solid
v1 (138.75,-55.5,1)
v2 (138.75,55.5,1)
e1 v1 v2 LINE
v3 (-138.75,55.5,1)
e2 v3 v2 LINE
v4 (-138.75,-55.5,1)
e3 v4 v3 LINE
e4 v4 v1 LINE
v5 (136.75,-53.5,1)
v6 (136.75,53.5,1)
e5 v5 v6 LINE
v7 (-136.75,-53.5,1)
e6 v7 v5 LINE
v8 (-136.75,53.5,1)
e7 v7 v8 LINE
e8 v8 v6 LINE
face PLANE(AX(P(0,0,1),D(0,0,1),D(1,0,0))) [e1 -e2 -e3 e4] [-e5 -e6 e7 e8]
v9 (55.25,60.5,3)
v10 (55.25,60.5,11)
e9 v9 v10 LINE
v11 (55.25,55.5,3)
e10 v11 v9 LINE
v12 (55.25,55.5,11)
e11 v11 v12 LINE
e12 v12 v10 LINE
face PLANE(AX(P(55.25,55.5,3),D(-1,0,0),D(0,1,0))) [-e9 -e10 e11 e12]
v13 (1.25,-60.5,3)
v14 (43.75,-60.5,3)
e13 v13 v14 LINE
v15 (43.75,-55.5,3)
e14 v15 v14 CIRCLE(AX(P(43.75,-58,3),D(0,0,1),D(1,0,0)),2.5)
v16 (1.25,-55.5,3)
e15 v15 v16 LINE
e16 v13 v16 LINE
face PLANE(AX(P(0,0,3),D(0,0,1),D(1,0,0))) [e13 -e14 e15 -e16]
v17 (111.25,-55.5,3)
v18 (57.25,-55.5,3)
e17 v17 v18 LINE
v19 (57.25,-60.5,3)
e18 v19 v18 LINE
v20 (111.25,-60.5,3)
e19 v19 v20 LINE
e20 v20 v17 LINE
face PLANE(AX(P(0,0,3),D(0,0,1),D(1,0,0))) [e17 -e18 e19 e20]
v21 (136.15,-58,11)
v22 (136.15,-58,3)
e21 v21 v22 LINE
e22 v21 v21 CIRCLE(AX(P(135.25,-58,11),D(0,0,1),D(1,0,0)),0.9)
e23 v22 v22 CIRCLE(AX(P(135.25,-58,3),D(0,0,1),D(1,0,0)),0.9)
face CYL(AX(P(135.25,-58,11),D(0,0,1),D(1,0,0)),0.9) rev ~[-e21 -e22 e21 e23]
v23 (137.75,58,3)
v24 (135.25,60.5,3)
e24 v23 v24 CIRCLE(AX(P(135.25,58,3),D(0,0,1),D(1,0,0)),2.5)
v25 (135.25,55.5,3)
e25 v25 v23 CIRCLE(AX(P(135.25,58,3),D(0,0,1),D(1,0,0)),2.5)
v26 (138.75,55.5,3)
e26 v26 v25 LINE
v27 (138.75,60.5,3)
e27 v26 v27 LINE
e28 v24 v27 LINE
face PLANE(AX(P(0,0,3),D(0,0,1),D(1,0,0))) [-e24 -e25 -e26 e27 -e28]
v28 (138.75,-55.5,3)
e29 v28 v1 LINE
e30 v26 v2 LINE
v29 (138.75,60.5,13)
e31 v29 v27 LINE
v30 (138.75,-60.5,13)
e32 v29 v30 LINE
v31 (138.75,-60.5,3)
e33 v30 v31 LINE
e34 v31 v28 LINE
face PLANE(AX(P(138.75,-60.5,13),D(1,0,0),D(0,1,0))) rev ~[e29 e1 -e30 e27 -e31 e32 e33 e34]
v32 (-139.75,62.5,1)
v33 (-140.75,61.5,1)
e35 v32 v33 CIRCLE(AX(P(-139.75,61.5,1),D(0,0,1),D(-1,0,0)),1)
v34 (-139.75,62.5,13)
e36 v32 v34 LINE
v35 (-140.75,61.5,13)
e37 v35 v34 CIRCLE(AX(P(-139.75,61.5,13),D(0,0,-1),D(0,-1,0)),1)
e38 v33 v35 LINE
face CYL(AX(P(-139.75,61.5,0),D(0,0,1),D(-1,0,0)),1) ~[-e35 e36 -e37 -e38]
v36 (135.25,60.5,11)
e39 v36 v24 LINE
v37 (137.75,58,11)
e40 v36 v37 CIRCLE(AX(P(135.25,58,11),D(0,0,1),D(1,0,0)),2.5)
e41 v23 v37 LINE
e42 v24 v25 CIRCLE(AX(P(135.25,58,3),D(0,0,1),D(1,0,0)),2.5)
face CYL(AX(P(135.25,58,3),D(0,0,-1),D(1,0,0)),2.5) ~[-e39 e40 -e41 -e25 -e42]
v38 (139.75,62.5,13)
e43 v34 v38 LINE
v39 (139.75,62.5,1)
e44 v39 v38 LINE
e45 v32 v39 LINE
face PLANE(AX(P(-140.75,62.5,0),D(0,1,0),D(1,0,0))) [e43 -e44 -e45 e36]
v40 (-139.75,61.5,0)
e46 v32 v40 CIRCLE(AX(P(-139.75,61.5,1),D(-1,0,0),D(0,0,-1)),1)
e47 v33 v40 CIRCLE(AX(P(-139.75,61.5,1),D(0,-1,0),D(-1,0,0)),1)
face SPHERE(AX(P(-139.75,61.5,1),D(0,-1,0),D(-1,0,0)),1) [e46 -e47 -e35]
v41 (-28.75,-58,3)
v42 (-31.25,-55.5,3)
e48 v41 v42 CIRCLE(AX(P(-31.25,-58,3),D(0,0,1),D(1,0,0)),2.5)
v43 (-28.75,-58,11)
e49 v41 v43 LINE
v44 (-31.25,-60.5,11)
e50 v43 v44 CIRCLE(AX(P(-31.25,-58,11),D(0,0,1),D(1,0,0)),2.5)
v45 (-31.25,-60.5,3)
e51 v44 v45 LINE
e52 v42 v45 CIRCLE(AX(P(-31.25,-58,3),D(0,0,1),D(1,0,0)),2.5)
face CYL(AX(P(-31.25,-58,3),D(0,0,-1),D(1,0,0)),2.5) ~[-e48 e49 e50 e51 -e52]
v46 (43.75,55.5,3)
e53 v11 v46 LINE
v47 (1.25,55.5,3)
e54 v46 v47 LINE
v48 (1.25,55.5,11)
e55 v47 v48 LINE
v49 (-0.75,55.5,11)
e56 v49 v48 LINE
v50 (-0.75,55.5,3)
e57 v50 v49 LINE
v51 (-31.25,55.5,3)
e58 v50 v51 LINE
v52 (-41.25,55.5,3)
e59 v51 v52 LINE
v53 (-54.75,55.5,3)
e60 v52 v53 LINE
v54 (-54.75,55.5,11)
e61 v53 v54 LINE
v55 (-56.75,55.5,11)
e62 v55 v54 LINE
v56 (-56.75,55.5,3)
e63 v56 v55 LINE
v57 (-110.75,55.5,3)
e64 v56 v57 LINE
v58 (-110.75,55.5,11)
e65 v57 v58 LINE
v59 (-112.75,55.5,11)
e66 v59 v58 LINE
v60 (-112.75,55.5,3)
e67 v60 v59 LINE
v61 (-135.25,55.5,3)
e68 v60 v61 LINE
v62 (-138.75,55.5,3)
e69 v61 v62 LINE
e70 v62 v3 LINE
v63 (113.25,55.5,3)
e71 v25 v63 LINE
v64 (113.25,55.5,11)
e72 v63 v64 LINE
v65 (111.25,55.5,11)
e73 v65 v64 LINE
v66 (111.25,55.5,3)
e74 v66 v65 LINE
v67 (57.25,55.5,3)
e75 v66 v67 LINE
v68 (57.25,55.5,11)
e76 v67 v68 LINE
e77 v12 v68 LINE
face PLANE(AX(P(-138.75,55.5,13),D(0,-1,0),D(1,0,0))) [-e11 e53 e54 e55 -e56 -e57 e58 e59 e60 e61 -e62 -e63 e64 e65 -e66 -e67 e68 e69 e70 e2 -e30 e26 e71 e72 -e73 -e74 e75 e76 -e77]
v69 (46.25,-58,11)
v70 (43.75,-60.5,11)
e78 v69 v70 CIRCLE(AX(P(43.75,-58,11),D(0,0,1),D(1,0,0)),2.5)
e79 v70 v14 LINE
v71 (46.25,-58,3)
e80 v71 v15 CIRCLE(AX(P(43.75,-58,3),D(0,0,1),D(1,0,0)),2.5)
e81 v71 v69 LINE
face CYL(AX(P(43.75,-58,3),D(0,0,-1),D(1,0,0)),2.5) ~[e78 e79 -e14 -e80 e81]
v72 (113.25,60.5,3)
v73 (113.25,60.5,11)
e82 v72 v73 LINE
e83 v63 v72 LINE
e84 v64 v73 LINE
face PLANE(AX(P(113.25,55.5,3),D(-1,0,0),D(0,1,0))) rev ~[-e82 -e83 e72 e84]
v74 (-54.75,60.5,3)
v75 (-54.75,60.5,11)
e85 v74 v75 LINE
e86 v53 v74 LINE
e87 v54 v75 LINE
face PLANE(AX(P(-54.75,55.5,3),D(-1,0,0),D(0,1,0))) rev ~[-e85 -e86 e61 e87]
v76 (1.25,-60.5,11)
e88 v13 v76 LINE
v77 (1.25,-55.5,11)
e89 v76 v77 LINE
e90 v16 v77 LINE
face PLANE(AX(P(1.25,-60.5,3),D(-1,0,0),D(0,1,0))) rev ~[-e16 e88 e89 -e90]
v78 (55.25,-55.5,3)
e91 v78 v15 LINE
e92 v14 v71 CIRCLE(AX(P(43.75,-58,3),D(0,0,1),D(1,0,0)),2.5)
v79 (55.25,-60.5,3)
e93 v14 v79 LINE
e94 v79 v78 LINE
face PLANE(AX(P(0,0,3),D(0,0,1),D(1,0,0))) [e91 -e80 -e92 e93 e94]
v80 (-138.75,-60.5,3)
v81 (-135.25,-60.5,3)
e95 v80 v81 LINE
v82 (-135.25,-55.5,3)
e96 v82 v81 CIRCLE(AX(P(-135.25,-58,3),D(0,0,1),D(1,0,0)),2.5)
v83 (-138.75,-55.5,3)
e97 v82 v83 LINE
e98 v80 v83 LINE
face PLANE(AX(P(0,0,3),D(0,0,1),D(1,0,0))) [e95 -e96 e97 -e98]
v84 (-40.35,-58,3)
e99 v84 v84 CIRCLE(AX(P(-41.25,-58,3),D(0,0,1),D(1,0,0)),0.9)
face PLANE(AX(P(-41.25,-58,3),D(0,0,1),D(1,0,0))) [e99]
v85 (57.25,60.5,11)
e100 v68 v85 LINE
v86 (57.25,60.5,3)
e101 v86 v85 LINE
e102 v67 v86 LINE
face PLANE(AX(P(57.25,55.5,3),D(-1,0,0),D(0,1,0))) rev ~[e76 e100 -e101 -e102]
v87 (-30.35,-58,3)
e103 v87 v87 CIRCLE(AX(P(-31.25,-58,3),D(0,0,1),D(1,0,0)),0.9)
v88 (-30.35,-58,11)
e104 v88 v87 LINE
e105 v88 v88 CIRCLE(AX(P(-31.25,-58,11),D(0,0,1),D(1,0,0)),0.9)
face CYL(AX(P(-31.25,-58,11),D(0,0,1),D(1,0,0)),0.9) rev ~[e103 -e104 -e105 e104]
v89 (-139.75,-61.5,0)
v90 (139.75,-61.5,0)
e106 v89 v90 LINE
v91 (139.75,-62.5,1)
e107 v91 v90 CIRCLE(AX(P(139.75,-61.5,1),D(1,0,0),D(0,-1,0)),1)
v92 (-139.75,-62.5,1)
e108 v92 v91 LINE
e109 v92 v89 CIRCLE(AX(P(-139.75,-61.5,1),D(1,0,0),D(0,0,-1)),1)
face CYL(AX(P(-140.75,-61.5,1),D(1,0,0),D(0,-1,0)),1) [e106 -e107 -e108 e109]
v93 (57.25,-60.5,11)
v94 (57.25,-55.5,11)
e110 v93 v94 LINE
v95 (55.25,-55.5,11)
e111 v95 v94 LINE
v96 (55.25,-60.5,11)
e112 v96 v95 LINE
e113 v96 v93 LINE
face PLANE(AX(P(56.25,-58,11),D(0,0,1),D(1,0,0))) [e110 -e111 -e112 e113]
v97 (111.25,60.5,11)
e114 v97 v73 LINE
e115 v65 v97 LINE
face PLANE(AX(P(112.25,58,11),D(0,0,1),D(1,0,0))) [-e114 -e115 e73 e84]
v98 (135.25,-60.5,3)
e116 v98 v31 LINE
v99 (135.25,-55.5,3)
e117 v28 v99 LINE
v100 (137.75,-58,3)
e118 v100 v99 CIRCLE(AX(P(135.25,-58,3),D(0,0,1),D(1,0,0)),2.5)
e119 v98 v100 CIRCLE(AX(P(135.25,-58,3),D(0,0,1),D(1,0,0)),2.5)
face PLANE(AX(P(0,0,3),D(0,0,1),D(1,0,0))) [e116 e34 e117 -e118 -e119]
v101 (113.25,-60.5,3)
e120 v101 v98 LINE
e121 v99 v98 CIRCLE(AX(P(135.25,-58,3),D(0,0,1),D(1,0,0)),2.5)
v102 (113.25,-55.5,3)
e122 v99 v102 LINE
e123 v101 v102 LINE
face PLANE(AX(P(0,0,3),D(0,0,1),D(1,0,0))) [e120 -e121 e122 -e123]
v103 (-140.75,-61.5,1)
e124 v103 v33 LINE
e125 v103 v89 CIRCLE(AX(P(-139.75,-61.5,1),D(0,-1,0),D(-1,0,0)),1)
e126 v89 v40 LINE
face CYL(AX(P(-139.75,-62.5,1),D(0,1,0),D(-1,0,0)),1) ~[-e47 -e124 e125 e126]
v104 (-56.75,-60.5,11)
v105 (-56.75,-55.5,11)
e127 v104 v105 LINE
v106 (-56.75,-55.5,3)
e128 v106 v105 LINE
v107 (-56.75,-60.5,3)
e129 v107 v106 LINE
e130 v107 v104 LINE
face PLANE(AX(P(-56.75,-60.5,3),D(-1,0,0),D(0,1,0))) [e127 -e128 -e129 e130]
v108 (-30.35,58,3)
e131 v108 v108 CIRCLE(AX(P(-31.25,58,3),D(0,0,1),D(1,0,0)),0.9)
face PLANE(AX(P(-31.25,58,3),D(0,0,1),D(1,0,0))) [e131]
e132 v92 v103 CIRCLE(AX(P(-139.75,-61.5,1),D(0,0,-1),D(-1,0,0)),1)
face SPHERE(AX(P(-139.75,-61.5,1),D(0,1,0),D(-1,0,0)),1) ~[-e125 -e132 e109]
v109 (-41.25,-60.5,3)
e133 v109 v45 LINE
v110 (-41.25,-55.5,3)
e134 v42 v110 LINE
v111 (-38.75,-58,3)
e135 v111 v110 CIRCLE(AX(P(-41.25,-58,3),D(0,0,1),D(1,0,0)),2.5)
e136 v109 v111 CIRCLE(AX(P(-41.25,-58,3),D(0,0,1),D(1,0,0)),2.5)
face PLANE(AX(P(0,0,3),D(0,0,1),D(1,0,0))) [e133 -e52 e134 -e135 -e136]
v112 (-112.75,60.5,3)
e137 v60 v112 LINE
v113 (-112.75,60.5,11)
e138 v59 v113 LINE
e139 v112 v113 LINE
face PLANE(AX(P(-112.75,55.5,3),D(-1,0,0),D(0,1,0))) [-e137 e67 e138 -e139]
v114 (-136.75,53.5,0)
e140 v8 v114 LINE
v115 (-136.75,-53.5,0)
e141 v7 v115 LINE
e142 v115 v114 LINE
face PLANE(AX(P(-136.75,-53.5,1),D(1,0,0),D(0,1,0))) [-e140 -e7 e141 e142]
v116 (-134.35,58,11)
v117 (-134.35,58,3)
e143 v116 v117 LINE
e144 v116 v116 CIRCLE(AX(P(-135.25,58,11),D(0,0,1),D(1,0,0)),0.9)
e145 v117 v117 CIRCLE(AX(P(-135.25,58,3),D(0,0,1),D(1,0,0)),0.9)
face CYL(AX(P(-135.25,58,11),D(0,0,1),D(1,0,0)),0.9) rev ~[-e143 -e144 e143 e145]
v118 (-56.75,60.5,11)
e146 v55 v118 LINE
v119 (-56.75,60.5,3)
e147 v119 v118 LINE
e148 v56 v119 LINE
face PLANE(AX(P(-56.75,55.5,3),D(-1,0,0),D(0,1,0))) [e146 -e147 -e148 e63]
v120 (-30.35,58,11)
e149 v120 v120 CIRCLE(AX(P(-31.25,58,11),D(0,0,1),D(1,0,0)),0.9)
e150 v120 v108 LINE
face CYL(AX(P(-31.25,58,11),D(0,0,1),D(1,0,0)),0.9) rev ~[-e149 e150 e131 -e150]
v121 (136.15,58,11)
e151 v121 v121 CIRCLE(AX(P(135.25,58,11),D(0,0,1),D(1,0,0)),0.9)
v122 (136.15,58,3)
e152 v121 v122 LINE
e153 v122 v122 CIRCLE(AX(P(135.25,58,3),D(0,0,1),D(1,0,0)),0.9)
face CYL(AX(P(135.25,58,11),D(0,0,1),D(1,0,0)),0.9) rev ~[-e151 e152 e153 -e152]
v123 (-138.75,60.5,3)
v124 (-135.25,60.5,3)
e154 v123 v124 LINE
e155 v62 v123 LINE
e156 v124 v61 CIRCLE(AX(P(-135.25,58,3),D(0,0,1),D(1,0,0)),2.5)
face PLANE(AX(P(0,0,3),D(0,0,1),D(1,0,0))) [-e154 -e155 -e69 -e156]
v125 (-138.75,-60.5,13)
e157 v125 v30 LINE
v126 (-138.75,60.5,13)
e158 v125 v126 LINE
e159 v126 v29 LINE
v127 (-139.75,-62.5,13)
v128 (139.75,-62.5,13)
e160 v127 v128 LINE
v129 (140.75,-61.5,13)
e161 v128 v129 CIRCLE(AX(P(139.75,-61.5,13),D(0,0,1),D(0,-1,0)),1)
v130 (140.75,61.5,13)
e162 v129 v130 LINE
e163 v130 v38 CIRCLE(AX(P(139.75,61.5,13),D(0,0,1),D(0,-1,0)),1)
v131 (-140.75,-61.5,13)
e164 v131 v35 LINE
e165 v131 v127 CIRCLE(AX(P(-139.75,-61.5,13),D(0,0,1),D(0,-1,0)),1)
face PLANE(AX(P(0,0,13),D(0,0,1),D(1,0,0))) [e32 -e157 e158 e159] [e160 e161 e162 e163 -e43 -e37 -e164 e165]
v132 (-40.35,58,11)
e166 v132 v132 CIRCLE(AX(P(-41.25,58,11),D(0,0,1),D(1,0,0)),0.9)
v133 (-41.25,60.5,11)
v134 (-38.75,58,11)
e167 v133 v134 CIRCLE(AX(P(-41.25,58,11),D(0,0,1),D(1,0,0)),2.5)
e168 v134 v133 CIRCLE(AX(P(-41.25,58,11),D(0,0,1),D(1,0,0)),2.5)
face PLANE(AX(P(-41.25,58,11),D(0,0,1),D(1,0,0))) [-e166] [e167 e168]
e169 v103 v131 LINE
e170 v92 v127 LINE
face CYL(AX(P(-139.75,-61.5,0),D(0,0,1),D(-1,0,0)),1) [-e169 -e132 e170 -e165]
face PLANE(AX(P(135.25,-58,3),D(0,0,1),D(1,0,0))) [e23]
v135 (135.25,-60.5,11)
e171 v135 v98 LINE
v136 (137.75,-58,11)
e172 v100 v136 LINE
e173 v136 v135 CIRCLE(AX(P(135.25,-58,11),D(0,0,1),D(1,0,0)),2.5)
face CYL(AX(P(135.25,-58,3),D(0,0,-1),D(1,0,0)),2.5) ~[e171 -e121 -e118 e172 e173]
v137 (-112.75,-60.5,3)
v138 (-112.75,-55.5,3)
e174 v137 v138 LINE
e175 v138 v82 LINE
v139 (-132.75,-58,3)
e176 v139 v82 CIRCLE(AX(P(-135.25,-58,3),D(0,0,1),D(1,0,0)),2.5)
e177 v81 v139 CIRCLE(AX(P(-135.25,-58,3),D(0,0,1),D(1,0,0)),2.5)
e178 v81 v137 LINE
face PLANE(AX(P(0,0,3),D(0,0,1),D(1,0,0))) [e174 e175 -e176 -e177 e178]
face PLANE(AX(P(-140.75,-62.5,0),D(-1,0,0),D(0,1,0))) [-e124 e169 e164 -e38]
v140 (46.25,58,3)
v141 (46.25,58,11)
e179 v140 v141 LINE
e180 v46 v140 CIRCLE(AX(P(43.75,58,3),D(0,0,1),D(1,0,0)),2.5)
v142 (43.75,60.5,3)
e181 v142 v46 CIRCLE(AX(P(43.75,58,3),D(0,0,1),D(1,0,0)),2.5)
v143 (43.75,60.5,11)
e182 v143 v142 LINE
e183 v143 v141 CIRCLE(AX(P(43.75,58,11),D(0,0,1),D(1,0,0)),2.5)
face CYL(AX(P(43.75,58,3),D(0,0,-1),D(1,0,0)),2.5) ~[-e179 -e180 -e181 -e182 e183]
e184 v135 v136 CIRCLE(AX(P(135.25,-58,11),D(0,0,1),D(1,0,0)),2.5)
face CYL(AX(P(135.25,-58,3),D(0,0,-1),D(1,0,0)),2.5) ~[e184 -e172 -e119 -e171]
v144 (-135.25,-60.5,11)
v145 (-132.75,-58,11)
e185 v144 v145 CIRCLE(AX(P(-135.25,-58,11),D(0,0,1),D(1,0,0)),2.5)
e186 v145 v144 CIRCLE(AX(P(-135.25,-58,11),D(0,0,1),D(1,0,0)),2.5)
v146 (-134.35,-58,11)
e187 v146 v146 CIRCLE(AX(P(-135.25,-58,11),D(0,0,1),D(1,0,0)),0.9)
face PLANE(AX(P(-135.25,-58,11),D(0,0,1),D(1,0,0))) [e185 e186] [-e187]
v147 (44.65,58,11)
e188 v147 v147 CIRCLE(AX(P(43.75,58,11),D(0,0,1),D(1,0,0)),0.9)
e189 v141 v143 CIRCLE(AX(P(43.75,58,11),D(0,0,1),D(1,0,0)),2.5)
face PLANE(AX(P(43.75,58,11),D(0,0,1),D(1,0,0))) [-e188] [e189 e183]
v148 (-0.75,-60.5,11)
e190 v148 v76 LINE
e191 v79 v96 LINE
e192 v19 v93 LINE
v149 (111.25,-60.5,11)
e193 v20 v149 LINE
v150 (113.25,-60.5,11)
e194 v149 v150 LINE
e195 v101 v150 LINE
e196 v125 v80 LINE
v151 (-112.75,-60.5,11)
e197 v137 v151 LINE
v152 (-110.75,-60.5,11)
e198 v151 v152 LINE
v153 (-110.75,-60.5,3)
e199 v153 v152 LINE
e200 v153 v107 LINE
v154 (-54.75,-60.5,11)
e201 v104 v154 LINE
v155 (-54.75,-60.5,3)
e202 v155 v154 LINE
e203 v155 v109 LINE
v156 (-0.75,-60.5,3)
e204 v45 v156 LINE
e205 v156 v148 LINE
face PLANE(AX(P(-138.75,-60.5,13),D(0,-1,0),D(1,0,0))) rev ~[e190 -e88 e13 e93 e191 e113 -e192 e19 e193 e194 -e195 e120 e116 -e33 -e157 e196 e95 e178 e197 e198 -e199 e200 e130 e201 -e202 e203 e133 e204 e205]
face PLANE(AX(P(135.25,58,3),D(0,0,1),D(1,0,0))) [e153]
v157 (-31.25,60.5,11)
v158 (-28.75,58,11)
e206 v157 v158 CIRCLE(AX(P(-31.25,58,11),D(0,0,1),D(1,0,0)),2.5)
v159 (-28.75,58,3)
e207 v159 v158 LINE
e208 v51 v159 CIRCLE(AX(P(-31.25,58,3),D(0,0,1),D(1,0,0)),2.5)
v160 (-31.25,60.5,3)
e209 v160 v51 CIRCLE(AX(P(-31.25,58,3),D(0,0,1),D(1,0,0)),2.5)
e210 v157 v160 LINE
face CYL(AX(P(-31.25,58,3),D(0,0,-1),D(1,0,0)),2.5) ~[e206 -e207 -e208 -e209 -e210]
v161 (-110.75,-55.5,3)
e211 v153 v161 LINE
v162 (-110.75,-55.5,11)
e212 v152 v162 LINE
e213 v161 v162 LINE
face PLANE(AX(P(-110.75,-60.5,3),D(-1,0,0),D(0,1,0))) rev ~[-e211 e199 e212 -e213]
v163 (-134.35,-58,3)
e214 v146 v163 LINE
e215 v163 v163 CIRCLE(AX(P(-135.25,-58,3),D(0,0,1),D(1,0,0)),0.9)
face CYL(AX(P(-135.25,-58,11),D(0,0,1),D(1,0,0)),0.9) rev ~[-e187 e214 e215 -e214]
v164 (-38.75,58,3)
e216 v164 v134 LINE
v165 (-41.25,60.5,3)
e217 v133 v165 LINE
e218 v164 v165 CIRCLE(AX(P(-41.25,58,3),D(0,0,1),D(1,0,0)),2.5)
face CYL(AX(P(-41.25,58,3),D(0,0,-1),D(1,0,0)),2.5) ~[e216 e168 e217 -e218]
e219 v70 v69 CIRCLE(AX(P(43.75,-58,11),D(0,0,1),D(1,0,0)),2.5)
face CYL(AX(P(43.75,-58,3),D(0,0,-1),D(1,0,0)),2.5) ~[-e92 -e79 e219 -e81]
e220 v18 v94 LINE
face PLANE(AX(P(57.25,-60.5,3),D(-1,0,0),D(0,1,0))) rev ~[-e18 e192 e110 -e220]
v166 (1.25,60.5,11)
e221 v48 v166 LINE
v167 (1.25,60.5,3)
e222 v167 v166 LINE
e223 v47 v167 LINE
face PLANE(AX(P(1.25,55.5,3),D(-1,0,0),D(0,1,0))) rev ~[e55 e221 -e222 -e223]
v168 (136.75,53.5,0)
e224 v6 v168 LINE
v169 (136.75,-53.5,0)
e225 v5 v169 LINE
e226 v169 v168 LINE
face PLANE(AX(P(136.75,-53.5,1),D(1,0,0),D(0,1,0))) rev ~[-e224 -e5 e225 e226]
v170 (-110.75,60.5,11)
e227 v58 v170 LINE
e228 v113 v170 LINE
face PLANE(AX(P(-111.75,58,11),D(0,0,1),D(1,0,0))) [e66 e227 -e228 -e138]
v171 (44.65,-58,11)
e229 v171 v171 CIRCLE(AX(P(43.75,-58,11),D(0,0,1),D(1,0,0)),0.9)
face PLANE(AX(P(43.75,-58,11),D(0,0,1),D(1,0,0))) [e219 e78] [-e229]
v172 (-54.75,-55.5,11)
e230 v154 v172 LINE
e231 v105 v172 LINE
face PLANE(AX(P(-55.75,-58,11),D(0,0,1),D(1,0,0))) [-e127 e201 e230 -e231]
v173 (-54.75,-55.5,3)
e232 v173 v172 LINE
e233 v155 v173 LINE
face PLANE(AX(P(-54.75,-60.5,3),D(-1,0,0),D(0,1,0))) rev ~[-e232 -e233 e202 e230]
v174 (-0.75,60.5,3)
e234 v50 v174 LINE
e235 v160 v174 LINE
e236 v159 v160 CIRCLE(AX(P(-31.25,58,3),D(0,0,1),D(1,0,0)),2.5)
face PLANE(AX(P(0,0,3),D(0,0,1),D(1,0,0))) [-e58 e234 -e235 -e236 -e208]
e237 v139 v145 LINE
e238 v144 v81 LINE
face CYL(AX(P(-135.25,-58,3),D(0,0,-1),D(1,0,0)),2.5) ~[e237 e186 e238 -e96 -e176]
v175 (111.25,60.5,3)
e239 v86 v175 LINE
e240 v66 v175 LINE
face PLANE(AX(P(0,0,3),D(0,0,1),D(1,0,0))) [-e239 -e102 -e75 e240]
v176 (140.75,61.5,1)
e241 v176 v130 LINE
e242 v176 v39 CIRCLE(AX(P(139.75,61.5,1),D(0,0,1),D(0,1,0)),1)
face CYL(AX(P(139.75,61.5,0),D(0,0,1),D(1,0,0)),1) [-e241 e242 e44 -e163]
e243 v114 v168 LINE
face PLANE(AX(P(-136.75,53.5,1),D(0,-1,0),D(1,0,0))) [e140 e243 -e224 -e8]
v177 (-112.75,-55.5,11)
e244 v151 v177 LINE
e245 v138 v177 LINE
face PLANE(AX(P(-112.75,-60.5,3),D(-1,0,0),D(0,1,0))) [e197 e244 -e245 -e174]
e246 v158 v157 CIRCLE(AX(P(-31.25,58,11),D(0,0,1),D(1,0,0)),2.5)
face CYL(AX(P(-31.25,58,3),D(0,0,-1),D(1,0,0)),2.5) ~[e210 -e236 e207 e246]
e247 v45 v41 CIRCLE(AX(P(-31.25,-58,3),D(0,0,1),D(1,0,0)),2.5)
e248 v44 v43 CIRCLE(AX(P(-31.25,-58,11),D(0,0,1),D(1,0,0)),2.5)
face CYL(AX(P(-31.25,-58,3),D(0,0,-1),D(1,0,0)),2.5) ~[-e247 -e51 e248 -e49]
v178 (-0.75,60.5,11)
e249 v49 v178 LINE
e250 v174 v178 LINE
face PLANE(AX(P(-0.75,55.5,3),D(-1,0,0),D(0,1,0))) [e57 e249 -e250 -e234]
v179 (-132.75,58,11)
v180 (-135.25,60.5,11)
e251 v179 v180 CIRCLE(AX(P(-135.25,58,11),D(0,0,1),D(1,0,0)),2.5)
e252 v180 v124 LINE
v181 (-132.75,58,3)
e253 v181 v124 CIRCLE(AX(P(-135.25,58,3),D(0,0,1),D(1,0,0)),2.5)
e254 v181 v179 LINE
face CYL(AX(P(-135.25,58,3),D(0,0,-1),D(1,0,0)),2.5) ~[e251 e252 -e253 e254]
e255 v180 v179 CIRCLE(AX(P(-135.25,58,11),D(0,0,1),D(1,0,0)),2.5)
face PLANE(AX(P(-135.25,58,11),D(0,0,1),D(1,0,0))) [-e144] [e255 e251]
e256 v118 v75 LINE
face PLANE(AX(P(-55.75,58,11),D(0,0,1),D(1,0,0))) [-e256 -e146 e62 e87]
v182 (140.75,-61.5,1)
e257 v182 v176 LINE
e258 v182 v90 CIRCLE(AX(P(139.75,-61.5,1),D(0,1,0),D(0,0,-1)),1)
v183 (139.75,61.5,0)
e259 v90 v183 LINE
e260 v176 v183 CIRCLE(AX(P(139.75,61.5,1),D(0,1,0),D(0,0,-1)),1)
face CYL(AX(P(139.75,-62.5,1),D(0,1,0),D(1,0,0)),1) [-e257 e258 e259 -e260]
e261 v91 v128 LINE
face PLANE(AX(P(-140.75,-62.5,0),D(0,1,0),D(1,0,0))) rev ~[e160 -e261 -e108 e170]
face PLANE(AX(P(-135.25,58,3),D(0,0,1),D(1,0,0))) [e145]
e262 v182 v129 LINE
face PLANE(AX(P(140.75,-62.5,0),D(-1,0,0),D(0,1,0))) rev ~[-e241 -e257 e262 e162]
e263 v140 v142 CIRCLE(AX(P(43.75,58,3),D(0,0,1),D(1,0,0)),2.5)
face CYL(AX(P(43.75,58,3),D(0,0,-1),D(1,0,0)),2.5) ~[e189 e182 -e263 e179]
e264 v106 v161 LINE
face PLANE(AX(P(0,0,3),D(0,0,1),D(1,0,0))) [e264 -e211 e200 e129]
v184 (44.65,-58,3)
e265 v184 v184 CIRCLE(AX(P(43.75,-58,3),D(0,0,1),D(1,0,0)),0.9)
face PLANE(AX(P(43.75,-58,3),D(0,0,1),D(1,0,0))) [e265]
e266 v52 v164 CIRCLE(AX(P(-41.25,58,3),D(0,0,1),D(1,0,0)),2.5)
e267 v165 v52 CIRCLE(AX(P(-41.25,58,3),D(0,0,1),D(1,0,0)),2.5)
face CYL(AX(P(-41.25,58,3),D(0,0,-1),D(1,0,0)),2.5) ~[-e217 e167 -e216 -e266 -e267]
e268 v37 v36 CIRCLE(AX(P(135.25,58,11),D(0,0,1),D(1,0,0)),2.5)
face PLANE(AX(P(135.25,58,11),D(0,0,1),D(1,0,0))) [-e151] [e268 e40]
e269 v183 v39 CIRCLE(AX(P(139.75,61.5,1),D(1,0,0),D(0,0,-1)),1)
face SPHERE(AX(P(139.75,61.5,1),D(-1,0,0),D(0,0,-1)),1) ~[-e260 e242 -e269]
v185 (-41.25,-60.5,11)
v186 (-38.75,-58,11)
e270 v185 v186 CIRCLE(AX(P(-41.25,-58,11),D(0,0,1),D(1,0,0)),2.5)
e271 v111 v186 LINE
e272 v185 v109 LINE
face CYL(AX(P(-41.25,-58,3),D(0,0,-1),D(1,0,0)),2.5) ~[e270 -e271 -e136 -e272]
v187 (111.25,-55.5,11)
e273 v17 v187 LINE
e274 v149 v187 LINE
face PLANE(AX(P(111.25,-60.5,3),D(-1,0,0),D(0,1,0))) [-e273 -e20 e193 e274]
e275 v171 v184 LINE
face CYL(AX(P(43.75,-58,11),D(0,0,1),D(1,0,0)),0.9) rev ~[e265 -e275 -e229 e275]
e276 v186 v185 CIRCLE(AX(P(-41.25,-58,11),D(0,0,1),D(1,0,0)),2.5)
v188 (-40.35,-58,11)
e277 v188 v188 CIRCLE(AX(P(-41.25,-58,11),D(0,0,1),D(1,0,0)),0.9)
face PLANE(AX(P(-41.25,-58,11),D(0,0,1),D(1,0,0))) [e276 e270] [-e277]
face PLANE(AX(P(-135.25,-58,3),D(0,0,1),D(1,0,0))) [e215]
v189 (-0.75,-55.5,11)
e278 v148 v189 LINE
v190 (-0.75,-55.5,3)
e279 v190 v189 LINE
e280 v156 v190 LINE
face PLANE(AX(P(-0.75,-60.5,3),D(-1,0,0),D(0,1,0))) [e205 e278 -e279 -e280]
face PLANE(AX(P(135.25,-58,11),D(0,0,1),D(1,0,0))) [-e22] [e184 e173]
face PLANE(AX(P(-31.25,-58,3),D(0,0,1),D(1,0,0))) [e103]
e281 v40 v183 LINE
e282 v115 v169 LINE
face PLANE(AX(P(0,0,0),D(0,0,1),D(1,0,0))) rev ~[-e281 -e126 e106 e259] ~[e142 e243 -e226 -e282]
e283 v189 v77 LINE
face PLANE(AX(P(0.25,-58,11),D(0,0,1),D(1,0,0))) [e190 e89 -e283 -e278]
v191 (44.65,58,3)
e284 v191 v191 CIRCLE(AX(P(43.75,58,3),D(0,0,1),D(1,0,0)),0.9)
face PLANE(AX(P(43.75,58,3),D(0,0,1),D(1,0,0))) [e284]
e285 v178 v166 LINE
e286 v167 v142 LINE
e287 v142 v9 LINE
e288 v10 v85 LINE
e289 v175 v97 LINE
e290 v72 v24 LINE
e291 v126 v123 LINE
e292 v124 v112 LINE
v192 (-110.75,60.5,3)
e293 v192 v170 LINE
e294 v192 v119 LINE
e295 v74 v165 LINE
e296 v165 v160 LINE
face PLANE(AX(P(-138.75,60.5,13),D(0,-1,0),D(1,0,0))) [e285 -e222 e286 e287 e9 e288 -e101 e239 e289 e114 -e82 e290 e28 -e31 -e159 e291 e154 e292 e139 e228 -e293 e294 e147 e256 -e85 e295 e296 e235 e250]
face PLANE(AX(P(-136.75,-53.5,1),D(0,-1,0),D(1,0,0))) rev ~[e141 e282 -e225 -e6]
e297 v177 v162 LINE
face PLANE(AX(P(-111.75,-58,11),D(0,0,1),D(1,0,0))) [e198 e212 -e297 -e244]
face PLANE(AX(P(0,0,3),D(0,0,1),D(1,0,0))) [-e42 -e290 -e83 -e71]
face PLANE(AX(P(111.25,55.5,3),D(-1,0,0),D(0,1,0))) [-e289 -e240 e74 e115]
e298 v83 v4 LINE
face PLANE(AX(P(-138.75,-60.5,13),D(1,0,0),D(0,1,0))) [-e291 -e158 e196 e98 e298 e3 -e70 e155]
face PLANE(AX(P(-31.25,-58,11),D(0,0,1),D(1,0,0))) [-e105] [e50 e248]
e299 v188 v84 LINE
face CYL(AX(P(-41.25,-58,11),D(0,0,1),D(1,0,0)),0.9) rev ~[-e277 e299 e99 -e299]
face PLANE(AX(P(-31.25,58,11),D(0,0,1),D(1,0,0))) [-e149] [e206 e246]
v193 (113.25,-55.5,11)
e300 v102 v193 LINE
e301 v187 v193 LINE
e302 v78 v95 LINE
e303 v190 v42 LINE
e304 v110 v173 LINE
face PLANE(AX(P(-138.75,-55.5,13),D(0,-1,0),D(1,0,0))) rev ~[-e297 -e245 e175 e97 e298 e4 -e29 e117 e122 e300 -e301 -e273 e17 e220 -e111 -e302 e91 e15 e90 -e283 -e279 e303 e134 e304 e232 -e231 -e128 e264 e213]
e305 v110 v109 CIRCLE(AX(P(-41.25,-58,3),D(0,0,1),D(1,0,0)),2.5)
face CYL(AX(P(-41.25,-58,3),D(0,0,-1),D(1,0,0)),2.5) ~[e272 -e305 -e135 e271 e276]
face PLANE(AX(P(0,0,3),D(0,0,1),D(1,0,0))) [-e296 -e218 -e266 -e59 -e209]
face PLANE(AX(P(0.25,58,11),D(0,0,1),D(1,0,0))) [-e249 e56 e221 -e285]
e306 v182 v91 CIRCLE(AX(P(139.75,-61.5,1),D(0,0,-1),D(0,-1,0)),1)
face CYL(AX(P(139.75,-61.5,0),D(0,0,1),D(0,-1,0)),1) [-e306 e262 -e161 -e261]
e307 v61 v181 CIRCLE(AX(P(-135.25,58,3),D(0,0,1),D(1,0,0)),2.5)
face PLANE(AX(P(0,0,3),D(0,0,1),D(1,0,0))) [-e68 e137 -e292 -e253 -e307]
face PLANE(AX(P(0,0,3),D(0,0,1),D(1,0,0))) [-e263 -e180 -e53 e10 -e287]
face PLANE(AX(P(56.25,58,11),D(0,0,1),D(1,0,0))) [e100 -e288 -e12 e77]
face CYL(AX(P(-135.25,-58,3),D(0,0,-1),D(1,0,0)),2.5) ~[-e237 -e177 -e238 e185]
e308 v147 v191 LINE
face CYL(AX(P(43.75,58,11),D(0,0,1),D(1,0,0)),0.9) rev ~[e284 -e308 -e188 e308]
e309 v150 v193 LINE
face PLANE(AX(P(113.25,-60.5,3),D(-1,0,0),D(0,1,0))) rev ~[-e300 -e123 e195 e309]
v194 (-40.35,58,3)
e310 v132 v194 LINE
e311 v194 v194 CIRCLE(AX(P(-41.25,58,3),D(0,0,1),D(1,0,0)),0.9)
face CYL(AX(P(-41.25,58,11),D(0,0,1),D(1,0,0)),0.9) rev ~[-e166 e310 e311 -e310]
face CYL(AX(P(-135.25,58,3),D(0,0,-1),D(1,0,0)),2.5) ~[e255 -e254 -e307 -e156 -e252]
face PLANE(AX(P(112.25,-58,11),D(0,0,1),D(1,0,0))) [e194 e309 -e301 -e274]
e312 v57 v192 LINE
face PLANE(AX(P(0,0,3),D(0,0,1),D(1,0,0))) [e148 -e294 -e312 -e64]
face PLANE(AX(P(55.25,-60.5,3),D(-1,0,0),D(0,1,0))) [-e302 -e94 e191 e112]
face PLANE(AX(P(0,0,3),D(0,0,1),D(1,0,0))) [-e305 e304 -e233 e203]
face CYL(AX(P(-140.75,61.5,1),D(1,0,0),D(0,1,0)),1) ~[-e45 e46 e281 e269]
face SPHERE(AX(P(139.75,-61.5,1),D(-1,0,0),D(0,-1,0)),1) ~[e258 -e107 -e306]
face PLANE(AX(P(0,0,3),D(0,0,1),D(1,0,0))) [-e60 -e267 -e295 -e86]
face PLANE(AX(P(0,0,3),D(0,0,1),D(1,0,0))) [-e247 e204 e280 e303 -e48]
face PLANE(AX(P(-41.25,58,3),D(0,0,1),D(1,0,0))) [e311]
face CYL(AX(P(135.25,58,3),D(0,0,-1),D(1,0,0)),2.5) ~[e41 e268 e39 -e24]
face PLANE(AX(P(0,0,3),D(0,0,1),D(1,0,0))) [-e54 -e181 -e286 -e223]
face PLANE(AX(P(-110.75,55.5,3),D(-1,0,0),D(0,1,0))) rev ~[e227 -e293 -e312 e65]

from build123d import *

# Parameters (mm, degrees)
SKETCH012_W     = 281.5
SKETCH012_H     = 125
PAD006_DEPTH    = 13
SKETCH013_W     = 277.5
SKETCH013_H     = 111
POCKET003_DEPTH = 12
SKETCH014_W     = 273.5
SKETCH014_H     = 107
POCKET004_DEPTH = 1.001
SKETCH015_W     = 277.5
SKETCH015_H     = 121
POCKET005_DEPTH = 10
SKETCH016_R     = 2.5
SKETCH016_W     = 2
SKETCH016_H     = 5
PAD_DEPTH       = 8
SKETCH_R        = 0.9
POCKET_DEPTH    = 8
FILLET_R        = 1


with BuildPart() as part:
    # Sketch012 → Pad006 (new body)
    with BuildSketch(Plane.XY):
        Rectangle(SKETCH012_W, SKETCH012_H)
    extrude(amount=PAD006_DEPTH)

    # Sketch013 (on Face6 of Pad006) → Pocket003 (cut)
    with BuildSketch(Plane.XY.offset(13)):
        Rectangle(SKETCH013_W, SKETCH013_H)
    extrude(amount=-POCKET003_DEPTH, mode=Mode.SUBTRACT)

    # Sketch014 (on Face11 of Pocket003) → Pocket004 (cut, through all)
    with BuildSketch(Plane.XY.offset(1)):
        Rectangle(SKETCH014_W, SKETCH014_H)
    extrude(amount=-POCKET004_DEPTH, mode=Mode.SUBTRACT)

    # Sketch015 (on Face5 of Pocket004) → Pocket005 (cut)
    with BuildSketch(Plane.XY.offset(13)):
        Rectangle(SKETCH015_W, SKETCH015_H)
    extrude(amount=-POCKET005_DEPTH, mode=Mode.SUBTRACT)

    # Sketch016 (on Face14 of Pocket005) → Pad (join)
    with BuildSketch(Plane.XY.offset(3)):
        with Locations((-135.25, 58)):
            Circle(SKETCH016_R)
        with Locations((-135.25, -58)):
            Circle(SKETCH016_R)
        with Locations((-41.25, 58)):
            Circle(SKETCH016_R)
        with Locations((43.75, 58)):
            Circle(SKETCH016_R)
        with Locations((-41.25, -58)):
            Circle(SKETCH016_R)
        with Locations((43.75, -58)):
            Circle(SKETCH016_R)
        with Locations((135.25, 58)):
            Circle(SKETCH016_R)
        with Locations((135.25, -58)):
            Circle(SKETCH016_R)
        with Locations((-31.25, 58)):
            Circle(SKETCH016_R)
        with Locations((-31.25, -58)):
            Circle(SKETCH016_R)
        with Locations((-111.75, 58)):
            Rectangle(SKETCH016_W, SKETCH016_H)
        with Locations((-55.75, 58)):
            Rectangle(SKETCH016_W, SKETCH016_H)
        with Locations((0.25, 58)):
            Rectangle(SKETCH016_W, SKETCH016_H)
        with Locations((56.25, 58)):
            Rectangle(SKETCH016_W, SKETCH016_H)
        with Locations((112.25, 58)):
            Rectangle(SKETCH016_W, SKETCH016_H)
        with Locations((-111.75, -58)):
            Rectangle(SKETCH016_W, SKETCH016_H)
        with Locations((-55.75, -58)):
            Rectangle(SKETCH016_W, SKETCH016_H)
        with Locations((0.25, -58)):
            Rectangle(SKETCH016_W, SKETCH016_H)
        with Locations((56.25, -58)):
            Rectangle(SKETCH016_W, SKETCH016_H)
        with Locations((112.25, -58)):
            Rectangle(SKETCH016_W, SKETCH016_H)
    extrude(amount=PAD_DEPTH)

    # Sketch (on Face9 of Pad) → Pocket (cut)
    with BuildSketch(Plane.XY.offset(11)):
        with Locations((-135.25, 58)):
            Circle(SKETCH_R)
        with Locations((-41.25, 58)):
            Circle(SKETCH_R)
        with Locations((-31.25, 58)):
            Circle(SKETCH_R)
        with Locations((43.75, 58)):
            Circle(SKETCH_R)
        with Locations((135.25, 58)):
            Circle(SKETCH_R)
        with Locations((135.25, -58)):
            Circle(SKETCH_R)
        with Locations((43.75, -58)):
            Circle(SKETCH_R)
        with Locations((-31.25, -58)):
            Circle(SKETCH_R)
        with Locations((-41.25, -58)):
            Circle(SKETCH_R)
        with Locations((-135.25, -58)):
            Circle(SKETCH_R)
    extrude(amount=-POCKET_DEPTH, mode=Mode.SUBTRACT)

    # Fillet
    fillet_edges = [part.edges().sort_by_distance(p)[0] for p in [
        (-140.75, 0, 0),
        (-140.75, 62.5, 6.5),
        (0, 62.5, 0),
        (-140.75, -62.5, 6.5),
        (0, -62.5, 0),
        (140.75, -62.5, 6.5),
        (140.75, 0, 0),
        (140.75, 62.5, 6.5),
    ]]
    fillet(fillet_edges, radius=FILLET_R)


solid = part.part
